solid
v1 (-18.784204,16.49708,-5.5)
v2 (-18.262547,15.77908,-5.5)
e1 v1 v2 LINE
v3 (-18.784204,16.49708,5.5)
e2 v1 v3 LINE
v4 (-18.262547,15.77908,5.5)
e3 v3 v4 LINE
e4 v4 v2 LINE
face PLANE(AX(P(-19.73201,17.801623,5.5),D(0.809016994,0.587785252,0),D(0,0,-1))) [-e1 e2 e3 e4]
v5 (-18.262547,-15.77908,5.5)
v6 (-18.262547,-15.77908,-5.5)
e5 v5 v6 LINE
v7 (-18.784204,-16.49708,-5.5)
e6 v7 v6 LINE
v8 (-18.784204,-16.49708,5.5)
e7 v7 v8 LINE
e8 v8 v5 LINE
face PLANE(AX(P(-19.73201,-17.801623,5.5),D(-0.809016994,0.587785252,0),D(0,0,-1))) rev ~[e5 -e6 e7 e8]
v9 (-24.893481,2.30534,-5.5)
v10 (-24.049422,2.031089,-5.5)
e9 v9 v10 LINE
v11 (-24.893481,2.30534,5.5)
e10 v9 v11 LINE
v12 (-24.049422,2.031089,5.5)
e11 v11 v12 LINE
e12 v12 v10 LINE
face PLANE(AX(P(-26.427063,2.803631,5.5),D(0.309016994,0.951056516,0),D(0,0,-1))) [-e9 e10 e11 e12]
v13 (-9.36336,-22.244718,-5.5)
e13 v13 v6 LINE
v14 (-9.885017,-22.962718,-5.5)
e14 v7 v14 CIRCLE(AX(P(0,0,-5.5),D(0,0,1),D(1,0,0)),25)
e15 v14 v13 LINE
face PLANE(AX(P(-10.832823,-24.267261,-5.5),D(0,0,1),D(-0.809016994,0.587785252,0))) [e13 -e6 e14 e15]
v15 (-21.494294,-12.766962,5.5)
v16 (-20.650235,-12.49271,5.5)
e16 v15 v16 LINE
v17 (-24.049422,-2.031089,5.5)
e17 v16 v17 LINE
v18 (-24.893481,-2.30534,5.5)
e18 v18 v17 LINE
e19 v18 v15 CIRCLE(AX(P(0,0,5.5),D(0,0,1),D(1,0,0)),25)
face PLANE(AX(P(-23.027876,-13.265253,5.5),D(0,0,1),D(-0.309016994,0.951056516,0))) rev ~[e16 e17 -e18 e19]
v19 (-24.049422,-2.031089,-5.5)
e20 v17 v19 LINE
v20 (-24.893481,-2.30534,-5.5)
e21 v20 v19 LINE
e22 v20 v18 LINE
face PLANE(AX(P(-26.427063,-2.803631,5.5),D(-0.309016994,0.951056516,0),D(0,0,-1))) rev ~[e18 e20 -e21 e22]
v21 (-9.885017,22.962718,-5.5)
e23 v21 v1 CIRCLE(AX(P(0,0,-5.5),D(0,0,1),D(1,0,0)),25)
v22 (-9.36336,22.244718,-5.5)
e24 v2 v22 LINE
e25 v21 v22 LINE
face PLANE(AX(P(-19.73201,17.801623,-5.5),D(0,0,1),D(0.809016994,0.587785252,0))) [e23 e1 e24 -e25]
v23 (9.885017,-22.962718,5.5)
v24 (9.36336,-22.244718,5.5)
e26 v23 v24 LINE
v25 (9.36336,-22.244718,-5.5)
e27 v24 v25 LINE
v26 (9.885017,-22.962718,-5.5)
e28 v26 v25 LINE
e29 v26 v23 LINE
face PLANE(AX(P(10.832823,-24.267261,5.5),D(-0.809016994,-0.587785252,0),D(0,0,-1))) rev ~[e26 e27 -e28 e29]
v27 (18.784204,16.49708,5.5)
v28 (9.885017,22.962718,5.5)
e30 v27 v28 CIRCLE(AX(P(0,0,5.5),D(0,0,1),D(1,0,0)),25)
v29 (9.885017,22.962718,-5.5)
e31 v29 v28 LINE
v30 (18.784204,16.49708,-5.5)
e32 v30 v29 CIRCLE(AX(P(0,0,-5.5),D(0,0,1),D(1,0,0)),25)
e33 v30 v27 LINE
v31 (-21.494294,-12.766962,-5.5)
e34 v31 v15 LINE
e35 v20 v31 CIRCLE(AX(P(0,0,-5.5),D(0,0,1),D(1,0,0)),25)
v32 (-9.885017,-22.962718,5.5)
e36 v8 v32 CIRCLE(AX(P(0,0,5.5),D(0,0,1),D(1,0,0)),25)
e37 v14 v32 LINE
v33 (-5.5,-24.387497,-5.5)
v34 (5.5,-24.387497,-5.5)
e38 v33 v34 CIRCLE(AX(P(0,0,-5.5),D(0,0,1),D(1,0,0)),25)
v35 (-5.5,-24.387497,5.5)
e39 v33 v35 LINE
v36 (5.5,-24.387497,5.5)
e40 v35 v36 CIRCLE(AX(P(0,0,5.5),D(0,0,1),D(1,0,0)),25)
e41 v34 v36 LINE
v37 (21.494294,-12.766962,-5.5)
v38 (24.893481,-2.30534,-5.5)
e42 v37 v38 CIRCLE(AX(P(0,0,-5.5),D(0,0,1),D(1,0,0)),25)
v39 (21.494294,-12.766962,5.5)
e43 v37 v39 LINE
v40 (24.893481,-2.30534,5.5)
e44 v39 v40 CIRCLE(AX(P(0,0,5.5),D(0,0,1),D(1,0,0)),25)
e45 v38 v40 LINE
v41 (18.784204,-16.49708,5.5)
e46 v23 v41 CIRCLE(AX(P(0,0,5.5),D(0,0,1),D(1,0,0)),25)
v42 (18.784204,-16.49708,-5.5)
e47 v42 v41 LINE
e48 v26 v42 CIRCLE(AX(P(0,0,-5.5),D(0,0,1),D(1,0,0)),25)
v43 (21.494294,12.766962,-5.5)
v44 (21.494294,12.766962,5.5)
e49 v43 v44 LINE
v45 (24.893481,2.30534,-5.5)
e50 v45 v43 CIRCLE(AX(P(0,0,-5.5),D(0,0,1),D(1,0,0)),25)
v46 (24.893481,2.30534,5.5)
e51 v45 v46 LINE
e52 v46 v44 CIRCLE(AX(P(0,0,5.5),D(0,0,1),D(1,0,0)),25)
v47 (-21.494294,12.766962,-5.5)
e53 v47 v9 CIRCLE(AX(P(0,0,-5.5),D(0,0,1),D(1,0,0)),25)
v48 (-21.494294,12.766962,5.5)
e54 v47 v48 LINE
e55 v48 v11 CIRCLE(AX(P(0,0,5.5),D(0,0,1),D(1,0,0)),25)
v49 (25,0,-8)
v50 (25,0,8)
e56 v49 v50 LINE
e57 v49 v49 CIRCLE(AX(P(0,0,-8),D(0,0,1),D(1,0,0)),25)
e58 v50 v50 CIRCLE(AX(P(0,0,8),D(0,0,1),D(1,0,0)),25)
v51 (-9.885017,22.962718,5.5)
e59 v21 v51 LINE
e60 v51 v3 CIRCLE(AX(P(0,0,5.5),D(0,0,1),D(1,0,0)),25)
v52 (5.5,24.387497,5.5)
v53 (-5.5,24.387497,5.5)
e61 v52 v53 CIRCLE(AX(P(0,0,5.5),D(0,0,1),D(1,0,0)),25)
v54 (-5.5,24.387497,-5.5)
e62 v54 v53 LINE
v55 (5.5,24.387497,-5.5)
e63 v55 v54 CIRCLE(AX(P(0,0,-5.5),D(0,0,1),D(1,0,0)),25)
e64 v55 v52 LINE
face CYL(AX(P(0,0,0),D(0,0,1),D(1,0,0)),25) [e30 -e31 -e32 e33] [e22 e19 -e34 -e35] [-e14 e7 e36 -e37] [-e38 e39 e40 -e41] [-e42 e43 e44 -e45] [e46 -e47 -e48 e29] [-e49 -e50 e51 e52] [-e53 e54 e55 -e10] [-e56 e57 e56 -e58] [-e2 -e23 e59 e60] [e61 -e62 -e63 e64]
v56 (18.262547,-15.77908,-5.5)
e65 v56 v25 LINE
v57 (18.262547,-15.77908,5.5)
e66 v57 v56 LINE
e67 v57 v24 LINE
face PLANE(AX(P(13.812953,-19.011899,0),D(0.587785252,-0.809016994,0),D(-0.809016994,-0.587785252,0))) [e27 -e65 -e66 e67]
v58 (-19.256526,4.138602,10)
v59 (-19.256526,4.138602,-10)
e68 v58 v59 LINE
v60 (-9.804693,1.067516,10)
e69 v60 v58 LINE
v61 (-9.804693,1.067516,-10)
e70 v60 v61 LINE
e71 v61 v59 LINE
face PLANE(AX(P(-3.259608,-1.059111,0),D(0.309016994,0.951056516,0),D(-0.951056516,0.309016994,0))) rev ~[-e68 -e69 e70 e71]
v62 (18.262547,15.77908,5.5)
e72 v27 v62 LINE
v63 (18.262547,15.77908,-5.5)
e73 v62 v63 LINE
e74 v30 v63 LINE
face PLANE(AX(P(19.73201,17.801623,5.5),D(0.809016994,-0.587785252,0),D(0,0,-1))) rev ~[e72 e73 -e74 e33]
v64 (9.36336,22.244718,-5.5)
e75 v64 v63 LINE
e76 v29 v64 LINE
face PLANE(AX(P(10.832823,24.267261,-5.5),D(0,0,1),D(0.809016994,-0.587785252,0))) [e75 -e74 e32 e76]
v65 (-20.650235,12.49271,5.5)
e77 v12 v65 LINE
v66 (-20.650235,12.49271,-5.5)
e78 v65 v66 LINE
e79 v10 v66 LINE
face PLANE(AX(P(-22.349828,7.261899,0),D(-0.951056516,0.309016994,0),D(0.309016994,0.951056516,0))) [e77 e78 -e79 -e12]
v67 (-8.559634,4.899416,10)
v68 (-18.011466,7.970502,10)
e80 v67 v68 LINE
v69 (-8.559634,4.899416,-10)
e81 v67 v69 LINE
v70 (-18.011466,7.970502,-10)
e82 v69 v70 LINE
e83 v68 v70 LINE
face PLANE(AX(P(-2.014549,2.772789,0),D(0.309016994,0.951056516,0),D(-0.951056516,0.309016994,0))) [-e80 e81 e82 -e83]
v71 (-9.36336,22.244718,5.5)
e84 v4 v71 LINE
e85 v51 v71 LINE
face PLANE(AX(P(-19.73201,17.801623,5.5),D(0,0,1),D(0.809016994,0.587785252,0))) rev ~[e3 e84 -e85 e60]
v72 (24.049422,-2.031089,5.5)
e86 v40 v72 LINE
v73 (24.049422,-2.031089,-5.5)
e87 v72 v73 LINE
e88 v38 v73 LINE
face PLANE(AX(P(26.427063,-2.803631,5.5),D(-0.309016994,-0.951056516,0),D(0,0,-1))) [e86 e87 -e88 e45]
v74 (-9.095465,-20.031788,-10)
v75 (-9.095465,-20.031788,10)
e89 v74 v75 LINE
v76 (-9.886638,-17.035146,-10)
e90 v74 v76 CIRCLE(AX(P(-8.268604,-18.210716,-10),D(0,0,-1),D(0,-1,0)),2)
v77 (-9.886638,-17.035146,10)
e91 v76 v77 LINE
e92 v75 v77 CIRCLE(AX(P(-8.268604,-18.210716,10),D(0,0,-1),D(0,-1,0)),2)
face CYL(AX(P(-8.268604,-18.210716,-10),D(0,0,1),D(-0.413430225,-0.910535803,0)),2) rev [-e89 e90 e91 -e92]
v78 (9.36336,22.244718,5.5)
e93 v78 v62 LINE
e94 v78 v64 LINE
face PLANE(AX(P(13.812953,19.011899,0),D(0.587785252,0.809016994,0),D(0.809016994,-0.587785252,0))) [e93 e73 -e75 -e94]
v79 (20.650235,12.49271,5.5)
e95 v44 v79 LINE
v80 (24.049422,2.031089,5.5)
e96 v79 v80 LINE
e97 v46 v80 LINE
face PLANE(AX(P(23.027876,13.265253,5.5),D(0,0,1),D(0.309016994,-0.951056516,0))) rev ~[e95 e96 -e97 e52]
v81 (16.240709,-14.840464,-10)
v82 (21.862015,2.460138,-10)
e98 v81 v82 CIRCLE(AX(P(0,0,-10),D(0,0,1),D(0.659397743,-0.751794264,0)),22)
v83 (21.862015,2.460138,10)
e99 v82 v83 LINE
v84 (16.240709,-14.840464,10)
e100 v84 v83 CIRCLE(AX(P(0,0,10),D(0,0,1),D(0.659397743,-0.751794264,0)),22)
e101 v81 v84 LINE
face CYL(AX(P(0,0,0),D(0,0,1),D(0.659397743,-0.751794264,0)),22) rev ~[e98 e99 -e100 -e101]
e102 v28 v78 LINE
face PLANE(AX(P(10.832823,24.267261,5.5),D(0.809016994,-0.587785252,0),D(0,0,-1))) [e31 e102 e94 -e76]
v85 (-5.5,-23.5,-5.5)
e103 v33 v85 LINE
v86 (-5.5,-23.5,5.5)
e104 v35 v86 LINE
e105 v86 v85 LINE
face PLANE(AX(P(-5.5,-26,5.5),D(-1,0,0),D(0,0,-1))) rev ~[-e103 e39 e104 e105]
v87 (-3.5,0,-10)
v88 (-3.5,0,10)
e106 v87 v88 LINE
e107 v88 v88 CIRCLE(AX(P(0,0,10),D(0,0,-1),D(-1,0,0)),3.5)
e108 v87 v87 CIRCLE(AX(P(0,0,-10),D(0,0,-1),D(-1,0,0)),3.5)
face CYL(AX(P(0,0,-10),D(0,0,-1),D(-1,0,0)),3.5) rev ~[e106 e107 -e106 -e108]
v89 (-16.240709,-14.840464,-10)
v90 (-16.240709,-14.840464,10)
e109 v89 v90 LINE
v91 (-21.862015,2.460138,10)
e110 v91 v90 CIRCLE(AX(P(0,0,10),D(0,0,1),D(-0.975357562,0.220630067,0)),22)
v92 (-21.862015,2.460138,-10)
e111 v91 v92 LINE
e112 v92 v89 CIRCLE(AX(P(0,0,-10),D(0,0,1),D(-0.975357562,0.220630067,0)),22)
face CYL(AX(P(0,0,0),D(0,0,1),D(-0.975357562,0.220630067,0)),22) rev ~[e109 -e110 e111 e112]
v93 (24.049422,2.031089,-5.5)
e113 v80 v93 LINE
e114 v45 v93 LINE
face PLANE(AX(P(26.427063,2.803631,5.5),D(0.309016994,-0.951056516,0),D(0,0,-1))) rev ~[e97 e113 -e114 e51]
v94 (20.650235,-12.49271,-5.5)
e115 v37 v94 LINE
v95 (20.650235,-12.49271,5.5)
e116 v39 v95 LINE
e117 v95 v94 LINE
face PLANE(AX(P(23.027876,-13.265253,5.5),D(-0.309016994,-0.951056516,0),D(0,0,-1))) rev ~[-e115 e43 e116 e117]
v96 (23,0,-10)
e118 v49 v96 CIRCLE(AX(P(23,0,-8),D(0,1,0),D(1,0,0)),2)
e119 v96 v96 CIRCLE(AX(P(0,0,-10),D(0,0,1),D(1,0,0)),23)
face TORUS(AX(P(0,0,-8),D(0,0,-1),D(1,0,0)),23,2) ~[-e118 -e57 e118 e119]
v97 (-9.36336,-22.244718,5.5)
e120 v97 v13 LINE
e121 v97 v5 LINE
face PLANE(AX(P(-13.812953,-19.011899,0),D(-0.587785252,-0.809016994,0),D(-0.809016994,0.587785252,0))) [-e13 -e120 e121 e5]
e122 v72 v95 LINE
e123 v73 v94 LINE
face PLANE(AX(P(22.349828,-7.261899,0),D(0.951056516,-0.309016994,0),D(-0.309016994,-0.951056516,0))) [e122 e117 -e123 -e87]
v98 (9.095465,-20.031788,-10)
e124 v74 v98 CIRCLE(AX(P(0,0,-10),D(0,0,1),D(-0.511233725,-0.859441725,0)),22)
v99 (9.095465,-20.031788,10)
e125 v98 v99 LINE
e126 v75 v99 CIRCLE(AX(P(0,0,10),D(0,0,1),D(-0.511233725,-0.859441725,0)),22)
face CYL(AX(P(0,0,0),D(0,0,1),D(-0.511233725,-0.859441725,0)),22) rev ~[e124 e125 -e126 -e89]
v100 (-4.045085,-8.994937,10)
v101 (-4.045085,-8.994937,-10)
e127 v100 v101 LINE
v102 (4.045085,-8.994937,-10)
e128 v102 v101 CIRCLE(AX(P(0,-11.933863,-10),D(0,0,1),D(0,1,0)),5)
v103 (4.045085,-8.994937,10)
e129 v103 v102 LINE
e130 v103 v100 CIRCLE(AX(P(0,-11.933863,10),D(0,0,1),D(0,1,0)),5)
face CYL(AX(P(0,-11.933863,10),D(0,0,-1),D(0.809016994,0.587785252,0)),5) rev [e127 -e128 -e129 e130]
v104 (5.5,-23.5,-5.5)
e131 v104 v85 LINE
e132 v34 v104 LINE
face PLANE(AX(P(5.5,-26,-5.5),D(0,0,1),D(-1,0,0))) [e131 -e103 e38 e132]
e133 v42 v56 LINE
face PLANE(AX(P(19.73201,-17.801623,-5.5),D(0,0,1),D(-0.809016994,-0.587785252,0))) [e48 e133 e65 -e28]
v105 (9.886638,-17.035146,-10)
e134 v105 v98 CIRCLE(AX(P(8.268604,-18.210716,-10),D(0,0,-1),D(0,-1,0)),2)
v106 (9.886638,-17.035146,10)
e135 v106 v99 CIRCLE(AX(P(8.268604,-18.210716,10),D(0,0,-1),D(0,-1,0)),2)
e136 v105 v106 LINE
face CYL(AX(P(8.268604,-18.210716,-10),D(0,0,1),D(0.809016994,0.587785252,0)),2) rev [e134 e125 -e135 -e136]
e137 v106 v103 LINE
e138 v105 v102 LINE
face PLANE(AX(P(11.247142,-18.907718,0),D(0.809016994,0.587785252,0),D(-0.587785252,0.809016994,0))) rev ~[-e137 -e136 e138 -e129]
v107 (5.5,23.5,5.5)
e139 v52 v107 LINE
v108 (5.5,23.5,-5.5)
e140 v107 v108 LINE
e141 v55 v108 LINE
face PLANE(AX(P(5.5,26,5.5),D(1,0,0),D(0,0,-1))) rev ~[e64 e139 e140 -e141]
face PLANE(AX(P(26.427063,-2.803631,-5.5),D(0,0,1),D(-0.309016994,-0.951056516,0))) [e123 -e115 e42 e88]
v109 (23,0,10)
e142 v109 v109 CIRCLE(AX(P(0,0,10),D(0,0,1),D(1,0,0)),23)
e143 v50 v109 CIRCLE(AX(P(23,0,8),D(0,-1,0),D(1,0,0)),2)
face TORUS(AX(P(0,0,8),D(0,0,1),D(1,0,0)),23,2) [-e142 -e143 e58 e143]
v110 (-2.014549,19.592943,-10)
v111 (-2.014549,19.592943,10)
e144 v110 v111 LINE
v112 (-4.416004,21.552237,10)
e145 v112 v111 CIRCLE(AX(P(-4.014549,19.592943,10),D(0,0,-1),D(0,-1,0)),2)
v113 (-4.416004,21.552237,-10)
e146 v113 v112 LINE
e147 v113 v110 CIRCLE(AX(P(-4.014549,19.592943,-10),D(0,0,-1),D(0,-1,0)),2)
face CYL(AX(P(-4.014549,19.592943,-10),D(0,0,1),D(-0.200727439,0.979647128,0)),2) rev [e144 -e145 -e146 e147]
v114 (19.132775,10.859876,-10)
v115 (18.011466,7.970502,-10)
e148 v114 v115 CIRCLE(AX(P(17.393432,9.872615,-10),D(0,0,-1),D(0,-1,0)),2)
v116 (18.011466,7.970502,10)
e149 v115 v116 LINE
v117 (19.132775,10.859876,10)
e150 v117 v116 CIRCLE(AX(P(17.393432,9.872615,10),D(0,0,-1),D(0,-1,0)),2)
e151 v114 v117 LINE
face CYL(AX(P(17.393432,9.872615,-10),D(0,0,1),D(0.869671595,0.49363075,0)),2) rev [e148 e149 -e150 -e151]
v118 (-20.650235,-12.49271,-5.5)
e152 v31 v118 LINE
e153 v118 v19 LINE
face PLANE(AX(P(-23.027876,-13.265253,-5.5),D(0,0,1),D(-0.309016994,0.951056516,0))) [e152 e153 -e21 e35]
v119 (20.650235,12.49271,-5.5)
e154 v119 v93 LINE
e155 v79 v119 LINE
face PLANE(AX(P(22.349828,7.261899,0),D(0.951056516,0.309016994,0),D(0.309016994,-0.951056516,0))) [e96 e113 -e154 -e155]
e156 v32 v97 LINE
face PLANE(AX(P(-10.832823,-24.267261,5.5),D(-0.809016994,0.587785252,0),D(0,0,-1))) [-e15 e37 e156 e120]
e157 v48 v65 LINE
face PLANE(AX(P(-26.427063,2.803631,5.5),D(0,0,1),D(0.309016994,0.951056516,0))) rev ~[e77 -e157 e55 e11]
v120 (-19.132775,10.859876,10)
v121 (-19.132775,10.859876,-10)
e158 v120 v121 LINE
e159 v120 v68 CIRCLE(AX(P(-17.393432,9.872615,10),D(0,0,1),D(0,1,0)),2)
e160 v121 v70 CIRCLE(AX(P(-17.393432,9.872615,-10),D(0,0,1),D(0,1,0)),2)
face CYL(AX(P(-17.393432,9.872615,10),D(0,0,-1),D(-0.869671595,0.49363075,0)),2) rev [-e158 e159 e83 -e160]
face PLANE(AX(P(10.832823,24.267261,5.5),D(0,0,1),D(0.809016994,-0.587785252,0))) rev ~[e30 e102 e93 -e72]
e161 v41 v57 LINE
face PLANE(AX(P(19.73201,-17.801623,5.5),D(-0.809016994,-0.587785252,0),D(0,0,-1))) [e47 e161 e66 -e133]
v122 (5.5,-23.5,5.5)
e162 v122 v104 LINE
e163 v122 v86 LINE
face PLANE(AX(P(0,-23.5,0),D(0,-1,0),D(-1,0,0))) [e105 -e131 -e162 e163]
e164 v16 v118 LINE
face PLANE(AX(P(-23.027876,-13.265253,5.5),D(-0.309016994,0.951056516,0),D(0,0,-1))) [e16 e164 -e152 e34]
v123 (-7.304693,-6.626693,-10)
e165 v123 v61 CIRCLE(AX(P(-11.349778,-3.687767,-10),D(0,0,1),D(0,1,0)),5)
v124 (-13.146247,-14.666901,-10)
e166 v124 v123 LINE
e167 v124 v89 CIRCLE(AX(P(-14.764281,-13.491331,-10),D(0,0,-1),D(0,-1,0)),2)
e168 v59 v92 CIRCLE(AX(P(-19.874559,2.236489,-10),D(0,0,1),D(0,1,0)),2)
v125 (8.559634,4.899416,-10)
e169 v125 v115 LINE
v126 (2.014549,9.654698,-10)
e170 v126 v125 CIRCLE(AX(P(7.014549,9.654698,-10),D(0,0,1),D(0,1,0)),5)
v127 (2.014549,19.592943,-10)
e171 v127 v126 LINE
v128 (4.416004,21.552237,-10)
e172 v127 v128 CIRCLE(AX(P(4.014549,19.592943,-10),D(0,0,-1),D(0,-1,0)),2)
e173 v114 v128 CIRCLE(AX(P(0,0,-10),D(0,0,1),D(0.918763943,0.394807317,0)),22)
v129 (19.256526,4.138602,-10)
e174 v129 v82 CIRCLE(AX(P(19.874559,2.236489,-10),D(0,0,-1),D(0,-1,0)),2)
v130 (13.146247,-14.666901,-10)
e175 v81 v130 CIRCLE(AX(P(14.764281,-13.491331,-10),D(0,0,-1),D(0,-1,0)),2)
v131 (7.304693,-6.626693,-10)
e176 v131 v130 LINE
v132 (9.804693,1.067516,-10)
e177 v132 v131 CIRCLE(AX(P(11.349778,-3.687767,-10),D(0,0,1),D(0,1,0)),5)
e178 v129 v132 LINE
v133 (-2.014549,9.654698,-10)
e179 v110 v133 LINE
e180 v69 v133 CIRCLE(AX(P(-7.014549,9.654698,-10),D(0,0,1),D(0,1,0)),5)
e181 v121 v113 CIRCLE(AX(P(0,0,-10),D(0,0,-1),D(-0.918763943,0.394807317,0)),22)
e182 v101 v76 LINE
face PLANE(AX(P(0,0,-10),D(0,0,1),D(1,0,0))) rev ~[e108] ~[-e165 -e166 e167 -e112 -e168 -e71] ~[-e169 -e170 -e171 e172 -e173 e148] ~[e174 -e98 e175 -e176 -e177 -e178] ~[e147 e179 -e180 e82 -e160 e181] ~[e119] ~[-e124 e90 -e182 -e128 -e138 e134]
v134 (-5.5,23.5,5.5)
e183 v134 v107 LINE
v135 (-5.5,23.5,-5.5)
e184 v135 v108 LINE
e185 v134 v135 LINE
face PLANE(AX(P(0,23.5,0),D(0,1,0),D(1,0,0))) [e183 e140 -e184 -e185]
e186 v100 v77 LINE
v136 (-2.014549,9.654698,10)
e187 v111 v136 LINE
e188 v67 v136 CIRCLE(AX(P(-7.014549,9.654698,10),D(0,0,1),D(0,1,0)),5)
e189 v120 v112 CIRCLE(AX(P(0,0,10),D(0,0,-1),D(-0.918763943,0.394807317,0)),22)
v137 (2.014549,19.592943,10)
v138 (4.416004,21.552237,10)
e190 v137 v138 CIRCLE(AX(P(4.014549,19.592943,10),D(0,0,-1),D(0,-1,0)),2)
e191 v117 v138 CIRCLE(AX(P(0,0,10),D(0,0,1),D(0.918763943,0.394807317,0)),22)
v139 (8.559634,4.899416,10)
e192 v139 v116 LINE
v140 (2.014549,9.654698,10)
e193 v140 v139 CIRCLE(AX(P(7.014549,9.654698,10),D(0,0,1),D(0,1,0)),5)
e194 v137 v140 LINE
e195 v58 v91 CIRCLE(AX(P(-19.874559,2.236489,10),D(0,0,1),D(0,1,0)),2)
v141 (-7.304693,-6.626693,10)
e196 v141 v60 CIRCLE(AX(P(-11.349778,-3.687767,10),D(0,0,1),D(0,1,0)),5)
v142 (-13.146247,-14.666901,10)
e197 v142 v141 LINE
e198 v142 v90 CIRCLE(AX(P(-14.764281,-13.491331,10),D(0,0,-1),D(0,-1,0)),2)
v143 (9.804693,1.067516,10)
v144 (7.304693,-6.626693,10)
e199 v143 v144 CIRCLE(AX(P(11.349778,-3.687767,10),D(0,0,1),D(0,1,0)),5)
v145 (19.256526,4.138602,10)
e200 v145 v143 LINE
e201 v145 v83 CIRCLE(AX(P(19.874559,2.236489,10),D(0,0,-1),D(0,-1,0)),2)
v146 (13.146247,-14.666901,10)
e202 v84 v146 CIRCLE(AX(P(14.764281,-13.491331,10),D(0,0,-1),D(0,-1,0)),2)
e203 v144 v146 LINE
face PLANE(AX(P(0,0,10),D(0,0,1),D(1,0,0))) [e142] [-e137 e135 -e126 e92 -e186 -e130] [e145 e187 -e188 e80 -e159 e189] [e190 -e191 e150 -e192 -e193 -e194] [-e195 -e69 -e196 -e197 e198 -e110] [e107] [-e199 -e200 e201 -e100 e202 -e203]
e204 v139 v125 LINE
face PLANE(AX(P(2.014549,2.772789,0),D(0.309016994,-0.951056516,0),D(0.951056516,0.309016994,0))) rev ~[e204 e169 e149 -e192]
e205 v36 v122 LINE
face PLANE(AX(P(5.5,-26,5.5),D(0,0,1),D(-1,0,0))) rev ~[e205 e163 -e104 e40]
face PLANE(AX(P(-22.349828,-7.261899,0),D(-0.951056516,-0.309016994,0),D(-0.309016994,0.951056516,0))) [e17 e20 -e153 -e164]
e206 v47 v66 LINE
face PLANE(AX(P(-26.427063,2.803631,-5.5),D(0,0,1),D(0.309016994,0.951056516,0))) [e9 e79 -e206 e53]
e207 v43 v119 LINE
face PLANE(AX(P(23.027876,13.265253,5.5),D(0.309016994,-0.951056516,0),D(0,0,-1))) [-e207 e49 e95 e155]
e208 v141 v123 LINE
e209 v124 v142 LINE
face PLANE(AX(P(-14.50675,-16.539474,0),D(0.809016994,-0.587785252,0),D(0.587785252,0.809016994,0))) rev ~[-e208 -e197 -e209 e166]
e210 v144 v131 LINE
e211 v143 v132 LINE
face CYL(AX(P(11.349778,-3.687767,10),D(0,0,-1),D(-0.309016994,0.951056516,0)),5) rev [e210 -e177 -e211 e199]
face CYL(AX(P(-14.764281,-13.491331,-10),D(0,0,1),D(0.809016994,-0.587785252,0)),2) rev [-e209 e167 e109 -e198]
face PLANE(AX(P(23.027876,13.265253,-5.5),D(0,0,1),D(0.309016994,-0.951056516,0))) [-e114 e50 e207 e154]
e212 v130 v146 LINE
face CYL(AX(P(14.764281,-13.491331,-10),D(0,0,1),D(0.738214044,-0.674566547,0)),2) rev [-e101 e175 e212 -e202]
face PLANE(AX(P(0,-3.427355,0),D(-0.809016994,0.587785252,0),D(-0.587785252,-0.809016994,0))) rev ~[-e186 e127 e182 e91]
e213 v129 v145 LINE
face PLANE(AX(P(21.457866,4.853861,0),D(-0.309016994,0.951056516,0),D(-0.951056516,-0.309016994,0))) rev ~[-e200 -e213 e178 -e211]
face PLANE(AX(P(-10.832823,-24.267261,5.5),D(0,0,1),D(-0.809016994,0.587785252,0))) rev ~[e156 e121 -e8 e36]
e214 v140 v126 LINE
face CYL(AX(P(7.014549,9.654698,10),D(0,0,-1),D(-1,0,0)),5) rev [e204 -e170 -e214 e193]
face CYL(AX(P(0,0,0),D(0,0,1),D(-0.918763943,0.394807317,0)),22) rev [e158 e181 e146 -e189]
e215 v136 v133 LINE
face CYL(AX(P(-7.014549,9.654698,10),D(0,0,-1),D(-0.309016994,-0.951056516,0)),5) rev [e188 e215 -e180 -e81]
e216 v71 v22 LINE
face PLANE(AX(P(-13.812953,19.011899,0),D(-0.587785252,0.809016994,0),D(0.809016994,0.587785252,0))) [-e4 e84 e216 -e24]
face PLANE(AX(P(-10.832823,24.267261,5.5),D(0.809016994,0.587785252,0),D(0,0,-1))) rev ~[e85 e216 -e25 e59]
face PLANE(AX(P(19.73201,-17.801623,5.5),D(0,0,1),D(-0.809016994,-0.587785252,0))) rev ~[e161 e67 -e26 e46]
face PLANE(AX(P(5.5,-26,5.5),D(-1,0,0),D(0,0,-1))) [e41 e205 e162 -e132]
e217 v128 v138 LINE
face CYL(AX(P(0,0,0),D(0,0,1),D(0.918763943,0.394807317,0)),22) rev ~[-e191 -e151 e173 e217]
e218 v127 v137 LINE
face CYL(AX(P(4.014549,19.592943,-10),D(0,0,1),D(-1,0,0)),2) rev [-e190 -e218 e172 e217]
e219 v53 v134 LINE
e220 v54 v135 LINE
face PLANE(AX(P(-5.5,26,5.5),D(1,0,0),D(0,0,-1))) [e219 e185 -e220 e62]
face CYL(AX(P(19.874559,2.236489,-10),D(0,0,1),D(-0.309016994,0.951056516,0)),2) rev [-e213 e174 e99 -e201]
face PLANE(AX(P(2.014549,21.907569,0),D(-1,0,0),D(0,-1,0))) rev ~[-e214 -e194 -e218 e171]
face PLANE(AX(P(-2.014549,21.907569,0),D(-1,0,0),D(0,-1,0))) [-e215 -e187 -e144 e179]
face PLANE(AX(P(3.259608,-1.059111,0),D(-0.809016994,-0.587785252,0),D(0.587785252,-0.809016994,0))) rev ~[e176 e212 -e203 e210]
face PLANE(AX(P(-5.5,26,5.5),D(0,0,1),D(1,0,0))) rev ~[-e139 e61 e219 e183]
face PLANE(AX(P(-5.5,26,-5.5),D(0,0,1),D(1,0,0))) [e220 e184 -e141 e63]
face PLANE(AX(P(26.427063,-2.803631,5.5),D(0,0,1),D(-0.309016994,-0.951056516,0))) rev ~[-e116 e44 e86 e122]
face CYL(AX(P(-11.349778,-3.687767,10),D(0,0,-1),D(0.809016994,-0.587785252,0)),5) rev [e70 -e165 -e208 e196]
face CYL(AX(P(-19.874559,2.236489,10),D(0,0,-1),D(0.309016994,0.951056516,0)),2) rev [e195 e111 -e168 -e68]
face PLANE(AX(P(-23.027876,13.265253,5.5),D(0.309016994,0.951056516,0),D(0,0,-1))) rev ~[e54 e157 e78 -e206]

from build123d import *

# Parameters (mm, degrees)
SKETCH1_R           = 25
BOSS_EXTRUDE1_DEPTH = 10
FILLET1_R           = 2
FILLET2_R           = 2
FILLET3_R           = 5
CUT_EXTRUDE2_START  = 26
SKETCH4_W           = 11
SKETCH4_H           = 11
CUT_EXTRUDE2_DEPTH  = 2.5
CIRPATTERN1_COUNT   = 10
SKETCH2_R           = 3.5
CUT_EXTRUDE1_DEPTH  = 21


with BuildPart() as part:
    # Sketch1 → Boss-Extrude1 (new body, symmetric)
    with BuildSketch(Plane.XY):
        Circle(SKETCH1_R)
        with BuildLine():
            Line((-2.01454878, 21.907569313), (-2.01454878, 2.772788518))
            Line((-2.01454878, 2.772788518), (-20.212806743, 8.685760967))
            ThreePointArc((-20.212806743, 8.685760967), (-12.93127555, 17.798373876), (-2.01454878, 21.907569313))
        make_face(mode=Mode.SUBTRACT)
        with BuildLine():
            Line((2.01454878, 21.907569313), (2.01454878, 2.772788518))
            Line((2.01454878, 2.772788518), (20.212806743, 8.685760967))
            ThreePointArc((20.212806743, 8.685760967), (12.93127555, 17.798373876), (2.01454878, 21.907569313))
        make_face(mode=Mode.SUBTRACT)
        with BuildLine():
            Line((21.45786636, 4.853861479), (3.259608397, -1.05911097))
            Line((3.259608397, -1.05911097), (14.506750355, -16.539473817))
            ThreePointArc((14.506750355, -16.539473817), (20.923243358, -6.798373876), (21.45786636, 4.853861479))
        make_face(mode=Mode.SUBTRACT)
        with BuildLine():
            Line((11.247141957, -18.907717943), (0, -3.427355096))
            Line((0, -3.427355096), (-11.247141957, -18.907717943))
            ThreePointArc((-11.247141957, -18.907717943), (0, -22), (11.247141957, -18.907717943))
        make_face(mode=Mode.SUBTRACT)
        with BuildLine():
            Line((-14.506750355, -16.539473817), (-3.259608397, -1.05911097))
            Line((-3.259608397, -1.05911097), (-21.45786636, 4.853861479))
            ThreePointArc((-21.45786636, 4.853861479), (-20.923243358, -6.798373876), (-14.506750355, -16.539473817))
        make_face(mode=Mode.SUBTRACT)
    extrude(amount=BOSS_EXTRUDE1_DEPTH, both=True)

    # Fillet1
    fillet1_edges = [part.edges().sort_by_distance(p)[0] for p in [
        (-25, 0, -10),
        (-25, 0, 10),
    ]]
    fillet(fillet1_edges, radius=FILLET1_R)

    # Fillet2
    fillet2_edges = [part.edges().sort_by_distance(p)[0] for p in [
        (-20.212806743, 8.685760967, 0),
        (-2.01454878, 21.907569313, 0),
        (-14.506750355, -16.539473817, 0),
        (-21.45786636, 4.853861479, 0),
        (11.247141957, -18.907717943, 0),
        (-11.247141957, -18.907717943, 0),
        (21.45786636, 4.853861479, 0),
        (14.506750355, -16.539473817, 0),
        (2.01454878, 21.907569313, 0),
        (20.212806743, 8.685760967, 0),
    ]]
    fillet(fillet2_edges, radius=FILLET2_R)

    # Fillet3
    fillet3_edges = [part.edges().sort_by_distance(p)[0] for p in [
        (-2.01454878, 2.772788518, 0),
        (-3.259608397, -1.05911097, 0),
        (0, -3.427355096, 0),
        (3.259608397, -1.05911097, 0),
        (2.01454878, 2.772788518, 0),
    ]]
    fillet(fillet3_edges, radius=FILLET3_R)

    # Sketch4 → Cut-Extrude2 (cut)
    with BuildSketch(Plane(origin=(0, 0, 0), x_dir=(1, 0, 0), z_dir=(0, 1, 0)).offset(CUT_EXTRUDE2_START)):
        Rectangle(SKETCH4_W, SKETCH4_H)
    cut_extrude2 = extrude(amount=-CUT_EXTRUDE2_DEPTH, mode=Mode.SUBTRACT)

    # CirPattern1: Cut-Extrude2 ×10 about axis
    cirpattern1_axis = Axis((0, 0, 0), (0, 0, 1))
    for i in range(1, CIRPATTERN1_COUNT):
        add(cut_extrude2.rotate(cirpattern1_axis, i * 360 / CIRPATTERN1_COUNT), mode=Mode.SUBTRACT)

    # Sketch2 → Cut-Extrude1 (cut, through all)
    with BuildSketch(Plane(origin=(0, 0, -10), x_dir=(-1, 0, 0), z_dir=(0, 0, -1))):
        Circle(SKETCH2_R)
    extrude(amount=-CUT_EXTRUDE1_DEPTH, mode=Mode.SUBTRACT)


solid = part.part
